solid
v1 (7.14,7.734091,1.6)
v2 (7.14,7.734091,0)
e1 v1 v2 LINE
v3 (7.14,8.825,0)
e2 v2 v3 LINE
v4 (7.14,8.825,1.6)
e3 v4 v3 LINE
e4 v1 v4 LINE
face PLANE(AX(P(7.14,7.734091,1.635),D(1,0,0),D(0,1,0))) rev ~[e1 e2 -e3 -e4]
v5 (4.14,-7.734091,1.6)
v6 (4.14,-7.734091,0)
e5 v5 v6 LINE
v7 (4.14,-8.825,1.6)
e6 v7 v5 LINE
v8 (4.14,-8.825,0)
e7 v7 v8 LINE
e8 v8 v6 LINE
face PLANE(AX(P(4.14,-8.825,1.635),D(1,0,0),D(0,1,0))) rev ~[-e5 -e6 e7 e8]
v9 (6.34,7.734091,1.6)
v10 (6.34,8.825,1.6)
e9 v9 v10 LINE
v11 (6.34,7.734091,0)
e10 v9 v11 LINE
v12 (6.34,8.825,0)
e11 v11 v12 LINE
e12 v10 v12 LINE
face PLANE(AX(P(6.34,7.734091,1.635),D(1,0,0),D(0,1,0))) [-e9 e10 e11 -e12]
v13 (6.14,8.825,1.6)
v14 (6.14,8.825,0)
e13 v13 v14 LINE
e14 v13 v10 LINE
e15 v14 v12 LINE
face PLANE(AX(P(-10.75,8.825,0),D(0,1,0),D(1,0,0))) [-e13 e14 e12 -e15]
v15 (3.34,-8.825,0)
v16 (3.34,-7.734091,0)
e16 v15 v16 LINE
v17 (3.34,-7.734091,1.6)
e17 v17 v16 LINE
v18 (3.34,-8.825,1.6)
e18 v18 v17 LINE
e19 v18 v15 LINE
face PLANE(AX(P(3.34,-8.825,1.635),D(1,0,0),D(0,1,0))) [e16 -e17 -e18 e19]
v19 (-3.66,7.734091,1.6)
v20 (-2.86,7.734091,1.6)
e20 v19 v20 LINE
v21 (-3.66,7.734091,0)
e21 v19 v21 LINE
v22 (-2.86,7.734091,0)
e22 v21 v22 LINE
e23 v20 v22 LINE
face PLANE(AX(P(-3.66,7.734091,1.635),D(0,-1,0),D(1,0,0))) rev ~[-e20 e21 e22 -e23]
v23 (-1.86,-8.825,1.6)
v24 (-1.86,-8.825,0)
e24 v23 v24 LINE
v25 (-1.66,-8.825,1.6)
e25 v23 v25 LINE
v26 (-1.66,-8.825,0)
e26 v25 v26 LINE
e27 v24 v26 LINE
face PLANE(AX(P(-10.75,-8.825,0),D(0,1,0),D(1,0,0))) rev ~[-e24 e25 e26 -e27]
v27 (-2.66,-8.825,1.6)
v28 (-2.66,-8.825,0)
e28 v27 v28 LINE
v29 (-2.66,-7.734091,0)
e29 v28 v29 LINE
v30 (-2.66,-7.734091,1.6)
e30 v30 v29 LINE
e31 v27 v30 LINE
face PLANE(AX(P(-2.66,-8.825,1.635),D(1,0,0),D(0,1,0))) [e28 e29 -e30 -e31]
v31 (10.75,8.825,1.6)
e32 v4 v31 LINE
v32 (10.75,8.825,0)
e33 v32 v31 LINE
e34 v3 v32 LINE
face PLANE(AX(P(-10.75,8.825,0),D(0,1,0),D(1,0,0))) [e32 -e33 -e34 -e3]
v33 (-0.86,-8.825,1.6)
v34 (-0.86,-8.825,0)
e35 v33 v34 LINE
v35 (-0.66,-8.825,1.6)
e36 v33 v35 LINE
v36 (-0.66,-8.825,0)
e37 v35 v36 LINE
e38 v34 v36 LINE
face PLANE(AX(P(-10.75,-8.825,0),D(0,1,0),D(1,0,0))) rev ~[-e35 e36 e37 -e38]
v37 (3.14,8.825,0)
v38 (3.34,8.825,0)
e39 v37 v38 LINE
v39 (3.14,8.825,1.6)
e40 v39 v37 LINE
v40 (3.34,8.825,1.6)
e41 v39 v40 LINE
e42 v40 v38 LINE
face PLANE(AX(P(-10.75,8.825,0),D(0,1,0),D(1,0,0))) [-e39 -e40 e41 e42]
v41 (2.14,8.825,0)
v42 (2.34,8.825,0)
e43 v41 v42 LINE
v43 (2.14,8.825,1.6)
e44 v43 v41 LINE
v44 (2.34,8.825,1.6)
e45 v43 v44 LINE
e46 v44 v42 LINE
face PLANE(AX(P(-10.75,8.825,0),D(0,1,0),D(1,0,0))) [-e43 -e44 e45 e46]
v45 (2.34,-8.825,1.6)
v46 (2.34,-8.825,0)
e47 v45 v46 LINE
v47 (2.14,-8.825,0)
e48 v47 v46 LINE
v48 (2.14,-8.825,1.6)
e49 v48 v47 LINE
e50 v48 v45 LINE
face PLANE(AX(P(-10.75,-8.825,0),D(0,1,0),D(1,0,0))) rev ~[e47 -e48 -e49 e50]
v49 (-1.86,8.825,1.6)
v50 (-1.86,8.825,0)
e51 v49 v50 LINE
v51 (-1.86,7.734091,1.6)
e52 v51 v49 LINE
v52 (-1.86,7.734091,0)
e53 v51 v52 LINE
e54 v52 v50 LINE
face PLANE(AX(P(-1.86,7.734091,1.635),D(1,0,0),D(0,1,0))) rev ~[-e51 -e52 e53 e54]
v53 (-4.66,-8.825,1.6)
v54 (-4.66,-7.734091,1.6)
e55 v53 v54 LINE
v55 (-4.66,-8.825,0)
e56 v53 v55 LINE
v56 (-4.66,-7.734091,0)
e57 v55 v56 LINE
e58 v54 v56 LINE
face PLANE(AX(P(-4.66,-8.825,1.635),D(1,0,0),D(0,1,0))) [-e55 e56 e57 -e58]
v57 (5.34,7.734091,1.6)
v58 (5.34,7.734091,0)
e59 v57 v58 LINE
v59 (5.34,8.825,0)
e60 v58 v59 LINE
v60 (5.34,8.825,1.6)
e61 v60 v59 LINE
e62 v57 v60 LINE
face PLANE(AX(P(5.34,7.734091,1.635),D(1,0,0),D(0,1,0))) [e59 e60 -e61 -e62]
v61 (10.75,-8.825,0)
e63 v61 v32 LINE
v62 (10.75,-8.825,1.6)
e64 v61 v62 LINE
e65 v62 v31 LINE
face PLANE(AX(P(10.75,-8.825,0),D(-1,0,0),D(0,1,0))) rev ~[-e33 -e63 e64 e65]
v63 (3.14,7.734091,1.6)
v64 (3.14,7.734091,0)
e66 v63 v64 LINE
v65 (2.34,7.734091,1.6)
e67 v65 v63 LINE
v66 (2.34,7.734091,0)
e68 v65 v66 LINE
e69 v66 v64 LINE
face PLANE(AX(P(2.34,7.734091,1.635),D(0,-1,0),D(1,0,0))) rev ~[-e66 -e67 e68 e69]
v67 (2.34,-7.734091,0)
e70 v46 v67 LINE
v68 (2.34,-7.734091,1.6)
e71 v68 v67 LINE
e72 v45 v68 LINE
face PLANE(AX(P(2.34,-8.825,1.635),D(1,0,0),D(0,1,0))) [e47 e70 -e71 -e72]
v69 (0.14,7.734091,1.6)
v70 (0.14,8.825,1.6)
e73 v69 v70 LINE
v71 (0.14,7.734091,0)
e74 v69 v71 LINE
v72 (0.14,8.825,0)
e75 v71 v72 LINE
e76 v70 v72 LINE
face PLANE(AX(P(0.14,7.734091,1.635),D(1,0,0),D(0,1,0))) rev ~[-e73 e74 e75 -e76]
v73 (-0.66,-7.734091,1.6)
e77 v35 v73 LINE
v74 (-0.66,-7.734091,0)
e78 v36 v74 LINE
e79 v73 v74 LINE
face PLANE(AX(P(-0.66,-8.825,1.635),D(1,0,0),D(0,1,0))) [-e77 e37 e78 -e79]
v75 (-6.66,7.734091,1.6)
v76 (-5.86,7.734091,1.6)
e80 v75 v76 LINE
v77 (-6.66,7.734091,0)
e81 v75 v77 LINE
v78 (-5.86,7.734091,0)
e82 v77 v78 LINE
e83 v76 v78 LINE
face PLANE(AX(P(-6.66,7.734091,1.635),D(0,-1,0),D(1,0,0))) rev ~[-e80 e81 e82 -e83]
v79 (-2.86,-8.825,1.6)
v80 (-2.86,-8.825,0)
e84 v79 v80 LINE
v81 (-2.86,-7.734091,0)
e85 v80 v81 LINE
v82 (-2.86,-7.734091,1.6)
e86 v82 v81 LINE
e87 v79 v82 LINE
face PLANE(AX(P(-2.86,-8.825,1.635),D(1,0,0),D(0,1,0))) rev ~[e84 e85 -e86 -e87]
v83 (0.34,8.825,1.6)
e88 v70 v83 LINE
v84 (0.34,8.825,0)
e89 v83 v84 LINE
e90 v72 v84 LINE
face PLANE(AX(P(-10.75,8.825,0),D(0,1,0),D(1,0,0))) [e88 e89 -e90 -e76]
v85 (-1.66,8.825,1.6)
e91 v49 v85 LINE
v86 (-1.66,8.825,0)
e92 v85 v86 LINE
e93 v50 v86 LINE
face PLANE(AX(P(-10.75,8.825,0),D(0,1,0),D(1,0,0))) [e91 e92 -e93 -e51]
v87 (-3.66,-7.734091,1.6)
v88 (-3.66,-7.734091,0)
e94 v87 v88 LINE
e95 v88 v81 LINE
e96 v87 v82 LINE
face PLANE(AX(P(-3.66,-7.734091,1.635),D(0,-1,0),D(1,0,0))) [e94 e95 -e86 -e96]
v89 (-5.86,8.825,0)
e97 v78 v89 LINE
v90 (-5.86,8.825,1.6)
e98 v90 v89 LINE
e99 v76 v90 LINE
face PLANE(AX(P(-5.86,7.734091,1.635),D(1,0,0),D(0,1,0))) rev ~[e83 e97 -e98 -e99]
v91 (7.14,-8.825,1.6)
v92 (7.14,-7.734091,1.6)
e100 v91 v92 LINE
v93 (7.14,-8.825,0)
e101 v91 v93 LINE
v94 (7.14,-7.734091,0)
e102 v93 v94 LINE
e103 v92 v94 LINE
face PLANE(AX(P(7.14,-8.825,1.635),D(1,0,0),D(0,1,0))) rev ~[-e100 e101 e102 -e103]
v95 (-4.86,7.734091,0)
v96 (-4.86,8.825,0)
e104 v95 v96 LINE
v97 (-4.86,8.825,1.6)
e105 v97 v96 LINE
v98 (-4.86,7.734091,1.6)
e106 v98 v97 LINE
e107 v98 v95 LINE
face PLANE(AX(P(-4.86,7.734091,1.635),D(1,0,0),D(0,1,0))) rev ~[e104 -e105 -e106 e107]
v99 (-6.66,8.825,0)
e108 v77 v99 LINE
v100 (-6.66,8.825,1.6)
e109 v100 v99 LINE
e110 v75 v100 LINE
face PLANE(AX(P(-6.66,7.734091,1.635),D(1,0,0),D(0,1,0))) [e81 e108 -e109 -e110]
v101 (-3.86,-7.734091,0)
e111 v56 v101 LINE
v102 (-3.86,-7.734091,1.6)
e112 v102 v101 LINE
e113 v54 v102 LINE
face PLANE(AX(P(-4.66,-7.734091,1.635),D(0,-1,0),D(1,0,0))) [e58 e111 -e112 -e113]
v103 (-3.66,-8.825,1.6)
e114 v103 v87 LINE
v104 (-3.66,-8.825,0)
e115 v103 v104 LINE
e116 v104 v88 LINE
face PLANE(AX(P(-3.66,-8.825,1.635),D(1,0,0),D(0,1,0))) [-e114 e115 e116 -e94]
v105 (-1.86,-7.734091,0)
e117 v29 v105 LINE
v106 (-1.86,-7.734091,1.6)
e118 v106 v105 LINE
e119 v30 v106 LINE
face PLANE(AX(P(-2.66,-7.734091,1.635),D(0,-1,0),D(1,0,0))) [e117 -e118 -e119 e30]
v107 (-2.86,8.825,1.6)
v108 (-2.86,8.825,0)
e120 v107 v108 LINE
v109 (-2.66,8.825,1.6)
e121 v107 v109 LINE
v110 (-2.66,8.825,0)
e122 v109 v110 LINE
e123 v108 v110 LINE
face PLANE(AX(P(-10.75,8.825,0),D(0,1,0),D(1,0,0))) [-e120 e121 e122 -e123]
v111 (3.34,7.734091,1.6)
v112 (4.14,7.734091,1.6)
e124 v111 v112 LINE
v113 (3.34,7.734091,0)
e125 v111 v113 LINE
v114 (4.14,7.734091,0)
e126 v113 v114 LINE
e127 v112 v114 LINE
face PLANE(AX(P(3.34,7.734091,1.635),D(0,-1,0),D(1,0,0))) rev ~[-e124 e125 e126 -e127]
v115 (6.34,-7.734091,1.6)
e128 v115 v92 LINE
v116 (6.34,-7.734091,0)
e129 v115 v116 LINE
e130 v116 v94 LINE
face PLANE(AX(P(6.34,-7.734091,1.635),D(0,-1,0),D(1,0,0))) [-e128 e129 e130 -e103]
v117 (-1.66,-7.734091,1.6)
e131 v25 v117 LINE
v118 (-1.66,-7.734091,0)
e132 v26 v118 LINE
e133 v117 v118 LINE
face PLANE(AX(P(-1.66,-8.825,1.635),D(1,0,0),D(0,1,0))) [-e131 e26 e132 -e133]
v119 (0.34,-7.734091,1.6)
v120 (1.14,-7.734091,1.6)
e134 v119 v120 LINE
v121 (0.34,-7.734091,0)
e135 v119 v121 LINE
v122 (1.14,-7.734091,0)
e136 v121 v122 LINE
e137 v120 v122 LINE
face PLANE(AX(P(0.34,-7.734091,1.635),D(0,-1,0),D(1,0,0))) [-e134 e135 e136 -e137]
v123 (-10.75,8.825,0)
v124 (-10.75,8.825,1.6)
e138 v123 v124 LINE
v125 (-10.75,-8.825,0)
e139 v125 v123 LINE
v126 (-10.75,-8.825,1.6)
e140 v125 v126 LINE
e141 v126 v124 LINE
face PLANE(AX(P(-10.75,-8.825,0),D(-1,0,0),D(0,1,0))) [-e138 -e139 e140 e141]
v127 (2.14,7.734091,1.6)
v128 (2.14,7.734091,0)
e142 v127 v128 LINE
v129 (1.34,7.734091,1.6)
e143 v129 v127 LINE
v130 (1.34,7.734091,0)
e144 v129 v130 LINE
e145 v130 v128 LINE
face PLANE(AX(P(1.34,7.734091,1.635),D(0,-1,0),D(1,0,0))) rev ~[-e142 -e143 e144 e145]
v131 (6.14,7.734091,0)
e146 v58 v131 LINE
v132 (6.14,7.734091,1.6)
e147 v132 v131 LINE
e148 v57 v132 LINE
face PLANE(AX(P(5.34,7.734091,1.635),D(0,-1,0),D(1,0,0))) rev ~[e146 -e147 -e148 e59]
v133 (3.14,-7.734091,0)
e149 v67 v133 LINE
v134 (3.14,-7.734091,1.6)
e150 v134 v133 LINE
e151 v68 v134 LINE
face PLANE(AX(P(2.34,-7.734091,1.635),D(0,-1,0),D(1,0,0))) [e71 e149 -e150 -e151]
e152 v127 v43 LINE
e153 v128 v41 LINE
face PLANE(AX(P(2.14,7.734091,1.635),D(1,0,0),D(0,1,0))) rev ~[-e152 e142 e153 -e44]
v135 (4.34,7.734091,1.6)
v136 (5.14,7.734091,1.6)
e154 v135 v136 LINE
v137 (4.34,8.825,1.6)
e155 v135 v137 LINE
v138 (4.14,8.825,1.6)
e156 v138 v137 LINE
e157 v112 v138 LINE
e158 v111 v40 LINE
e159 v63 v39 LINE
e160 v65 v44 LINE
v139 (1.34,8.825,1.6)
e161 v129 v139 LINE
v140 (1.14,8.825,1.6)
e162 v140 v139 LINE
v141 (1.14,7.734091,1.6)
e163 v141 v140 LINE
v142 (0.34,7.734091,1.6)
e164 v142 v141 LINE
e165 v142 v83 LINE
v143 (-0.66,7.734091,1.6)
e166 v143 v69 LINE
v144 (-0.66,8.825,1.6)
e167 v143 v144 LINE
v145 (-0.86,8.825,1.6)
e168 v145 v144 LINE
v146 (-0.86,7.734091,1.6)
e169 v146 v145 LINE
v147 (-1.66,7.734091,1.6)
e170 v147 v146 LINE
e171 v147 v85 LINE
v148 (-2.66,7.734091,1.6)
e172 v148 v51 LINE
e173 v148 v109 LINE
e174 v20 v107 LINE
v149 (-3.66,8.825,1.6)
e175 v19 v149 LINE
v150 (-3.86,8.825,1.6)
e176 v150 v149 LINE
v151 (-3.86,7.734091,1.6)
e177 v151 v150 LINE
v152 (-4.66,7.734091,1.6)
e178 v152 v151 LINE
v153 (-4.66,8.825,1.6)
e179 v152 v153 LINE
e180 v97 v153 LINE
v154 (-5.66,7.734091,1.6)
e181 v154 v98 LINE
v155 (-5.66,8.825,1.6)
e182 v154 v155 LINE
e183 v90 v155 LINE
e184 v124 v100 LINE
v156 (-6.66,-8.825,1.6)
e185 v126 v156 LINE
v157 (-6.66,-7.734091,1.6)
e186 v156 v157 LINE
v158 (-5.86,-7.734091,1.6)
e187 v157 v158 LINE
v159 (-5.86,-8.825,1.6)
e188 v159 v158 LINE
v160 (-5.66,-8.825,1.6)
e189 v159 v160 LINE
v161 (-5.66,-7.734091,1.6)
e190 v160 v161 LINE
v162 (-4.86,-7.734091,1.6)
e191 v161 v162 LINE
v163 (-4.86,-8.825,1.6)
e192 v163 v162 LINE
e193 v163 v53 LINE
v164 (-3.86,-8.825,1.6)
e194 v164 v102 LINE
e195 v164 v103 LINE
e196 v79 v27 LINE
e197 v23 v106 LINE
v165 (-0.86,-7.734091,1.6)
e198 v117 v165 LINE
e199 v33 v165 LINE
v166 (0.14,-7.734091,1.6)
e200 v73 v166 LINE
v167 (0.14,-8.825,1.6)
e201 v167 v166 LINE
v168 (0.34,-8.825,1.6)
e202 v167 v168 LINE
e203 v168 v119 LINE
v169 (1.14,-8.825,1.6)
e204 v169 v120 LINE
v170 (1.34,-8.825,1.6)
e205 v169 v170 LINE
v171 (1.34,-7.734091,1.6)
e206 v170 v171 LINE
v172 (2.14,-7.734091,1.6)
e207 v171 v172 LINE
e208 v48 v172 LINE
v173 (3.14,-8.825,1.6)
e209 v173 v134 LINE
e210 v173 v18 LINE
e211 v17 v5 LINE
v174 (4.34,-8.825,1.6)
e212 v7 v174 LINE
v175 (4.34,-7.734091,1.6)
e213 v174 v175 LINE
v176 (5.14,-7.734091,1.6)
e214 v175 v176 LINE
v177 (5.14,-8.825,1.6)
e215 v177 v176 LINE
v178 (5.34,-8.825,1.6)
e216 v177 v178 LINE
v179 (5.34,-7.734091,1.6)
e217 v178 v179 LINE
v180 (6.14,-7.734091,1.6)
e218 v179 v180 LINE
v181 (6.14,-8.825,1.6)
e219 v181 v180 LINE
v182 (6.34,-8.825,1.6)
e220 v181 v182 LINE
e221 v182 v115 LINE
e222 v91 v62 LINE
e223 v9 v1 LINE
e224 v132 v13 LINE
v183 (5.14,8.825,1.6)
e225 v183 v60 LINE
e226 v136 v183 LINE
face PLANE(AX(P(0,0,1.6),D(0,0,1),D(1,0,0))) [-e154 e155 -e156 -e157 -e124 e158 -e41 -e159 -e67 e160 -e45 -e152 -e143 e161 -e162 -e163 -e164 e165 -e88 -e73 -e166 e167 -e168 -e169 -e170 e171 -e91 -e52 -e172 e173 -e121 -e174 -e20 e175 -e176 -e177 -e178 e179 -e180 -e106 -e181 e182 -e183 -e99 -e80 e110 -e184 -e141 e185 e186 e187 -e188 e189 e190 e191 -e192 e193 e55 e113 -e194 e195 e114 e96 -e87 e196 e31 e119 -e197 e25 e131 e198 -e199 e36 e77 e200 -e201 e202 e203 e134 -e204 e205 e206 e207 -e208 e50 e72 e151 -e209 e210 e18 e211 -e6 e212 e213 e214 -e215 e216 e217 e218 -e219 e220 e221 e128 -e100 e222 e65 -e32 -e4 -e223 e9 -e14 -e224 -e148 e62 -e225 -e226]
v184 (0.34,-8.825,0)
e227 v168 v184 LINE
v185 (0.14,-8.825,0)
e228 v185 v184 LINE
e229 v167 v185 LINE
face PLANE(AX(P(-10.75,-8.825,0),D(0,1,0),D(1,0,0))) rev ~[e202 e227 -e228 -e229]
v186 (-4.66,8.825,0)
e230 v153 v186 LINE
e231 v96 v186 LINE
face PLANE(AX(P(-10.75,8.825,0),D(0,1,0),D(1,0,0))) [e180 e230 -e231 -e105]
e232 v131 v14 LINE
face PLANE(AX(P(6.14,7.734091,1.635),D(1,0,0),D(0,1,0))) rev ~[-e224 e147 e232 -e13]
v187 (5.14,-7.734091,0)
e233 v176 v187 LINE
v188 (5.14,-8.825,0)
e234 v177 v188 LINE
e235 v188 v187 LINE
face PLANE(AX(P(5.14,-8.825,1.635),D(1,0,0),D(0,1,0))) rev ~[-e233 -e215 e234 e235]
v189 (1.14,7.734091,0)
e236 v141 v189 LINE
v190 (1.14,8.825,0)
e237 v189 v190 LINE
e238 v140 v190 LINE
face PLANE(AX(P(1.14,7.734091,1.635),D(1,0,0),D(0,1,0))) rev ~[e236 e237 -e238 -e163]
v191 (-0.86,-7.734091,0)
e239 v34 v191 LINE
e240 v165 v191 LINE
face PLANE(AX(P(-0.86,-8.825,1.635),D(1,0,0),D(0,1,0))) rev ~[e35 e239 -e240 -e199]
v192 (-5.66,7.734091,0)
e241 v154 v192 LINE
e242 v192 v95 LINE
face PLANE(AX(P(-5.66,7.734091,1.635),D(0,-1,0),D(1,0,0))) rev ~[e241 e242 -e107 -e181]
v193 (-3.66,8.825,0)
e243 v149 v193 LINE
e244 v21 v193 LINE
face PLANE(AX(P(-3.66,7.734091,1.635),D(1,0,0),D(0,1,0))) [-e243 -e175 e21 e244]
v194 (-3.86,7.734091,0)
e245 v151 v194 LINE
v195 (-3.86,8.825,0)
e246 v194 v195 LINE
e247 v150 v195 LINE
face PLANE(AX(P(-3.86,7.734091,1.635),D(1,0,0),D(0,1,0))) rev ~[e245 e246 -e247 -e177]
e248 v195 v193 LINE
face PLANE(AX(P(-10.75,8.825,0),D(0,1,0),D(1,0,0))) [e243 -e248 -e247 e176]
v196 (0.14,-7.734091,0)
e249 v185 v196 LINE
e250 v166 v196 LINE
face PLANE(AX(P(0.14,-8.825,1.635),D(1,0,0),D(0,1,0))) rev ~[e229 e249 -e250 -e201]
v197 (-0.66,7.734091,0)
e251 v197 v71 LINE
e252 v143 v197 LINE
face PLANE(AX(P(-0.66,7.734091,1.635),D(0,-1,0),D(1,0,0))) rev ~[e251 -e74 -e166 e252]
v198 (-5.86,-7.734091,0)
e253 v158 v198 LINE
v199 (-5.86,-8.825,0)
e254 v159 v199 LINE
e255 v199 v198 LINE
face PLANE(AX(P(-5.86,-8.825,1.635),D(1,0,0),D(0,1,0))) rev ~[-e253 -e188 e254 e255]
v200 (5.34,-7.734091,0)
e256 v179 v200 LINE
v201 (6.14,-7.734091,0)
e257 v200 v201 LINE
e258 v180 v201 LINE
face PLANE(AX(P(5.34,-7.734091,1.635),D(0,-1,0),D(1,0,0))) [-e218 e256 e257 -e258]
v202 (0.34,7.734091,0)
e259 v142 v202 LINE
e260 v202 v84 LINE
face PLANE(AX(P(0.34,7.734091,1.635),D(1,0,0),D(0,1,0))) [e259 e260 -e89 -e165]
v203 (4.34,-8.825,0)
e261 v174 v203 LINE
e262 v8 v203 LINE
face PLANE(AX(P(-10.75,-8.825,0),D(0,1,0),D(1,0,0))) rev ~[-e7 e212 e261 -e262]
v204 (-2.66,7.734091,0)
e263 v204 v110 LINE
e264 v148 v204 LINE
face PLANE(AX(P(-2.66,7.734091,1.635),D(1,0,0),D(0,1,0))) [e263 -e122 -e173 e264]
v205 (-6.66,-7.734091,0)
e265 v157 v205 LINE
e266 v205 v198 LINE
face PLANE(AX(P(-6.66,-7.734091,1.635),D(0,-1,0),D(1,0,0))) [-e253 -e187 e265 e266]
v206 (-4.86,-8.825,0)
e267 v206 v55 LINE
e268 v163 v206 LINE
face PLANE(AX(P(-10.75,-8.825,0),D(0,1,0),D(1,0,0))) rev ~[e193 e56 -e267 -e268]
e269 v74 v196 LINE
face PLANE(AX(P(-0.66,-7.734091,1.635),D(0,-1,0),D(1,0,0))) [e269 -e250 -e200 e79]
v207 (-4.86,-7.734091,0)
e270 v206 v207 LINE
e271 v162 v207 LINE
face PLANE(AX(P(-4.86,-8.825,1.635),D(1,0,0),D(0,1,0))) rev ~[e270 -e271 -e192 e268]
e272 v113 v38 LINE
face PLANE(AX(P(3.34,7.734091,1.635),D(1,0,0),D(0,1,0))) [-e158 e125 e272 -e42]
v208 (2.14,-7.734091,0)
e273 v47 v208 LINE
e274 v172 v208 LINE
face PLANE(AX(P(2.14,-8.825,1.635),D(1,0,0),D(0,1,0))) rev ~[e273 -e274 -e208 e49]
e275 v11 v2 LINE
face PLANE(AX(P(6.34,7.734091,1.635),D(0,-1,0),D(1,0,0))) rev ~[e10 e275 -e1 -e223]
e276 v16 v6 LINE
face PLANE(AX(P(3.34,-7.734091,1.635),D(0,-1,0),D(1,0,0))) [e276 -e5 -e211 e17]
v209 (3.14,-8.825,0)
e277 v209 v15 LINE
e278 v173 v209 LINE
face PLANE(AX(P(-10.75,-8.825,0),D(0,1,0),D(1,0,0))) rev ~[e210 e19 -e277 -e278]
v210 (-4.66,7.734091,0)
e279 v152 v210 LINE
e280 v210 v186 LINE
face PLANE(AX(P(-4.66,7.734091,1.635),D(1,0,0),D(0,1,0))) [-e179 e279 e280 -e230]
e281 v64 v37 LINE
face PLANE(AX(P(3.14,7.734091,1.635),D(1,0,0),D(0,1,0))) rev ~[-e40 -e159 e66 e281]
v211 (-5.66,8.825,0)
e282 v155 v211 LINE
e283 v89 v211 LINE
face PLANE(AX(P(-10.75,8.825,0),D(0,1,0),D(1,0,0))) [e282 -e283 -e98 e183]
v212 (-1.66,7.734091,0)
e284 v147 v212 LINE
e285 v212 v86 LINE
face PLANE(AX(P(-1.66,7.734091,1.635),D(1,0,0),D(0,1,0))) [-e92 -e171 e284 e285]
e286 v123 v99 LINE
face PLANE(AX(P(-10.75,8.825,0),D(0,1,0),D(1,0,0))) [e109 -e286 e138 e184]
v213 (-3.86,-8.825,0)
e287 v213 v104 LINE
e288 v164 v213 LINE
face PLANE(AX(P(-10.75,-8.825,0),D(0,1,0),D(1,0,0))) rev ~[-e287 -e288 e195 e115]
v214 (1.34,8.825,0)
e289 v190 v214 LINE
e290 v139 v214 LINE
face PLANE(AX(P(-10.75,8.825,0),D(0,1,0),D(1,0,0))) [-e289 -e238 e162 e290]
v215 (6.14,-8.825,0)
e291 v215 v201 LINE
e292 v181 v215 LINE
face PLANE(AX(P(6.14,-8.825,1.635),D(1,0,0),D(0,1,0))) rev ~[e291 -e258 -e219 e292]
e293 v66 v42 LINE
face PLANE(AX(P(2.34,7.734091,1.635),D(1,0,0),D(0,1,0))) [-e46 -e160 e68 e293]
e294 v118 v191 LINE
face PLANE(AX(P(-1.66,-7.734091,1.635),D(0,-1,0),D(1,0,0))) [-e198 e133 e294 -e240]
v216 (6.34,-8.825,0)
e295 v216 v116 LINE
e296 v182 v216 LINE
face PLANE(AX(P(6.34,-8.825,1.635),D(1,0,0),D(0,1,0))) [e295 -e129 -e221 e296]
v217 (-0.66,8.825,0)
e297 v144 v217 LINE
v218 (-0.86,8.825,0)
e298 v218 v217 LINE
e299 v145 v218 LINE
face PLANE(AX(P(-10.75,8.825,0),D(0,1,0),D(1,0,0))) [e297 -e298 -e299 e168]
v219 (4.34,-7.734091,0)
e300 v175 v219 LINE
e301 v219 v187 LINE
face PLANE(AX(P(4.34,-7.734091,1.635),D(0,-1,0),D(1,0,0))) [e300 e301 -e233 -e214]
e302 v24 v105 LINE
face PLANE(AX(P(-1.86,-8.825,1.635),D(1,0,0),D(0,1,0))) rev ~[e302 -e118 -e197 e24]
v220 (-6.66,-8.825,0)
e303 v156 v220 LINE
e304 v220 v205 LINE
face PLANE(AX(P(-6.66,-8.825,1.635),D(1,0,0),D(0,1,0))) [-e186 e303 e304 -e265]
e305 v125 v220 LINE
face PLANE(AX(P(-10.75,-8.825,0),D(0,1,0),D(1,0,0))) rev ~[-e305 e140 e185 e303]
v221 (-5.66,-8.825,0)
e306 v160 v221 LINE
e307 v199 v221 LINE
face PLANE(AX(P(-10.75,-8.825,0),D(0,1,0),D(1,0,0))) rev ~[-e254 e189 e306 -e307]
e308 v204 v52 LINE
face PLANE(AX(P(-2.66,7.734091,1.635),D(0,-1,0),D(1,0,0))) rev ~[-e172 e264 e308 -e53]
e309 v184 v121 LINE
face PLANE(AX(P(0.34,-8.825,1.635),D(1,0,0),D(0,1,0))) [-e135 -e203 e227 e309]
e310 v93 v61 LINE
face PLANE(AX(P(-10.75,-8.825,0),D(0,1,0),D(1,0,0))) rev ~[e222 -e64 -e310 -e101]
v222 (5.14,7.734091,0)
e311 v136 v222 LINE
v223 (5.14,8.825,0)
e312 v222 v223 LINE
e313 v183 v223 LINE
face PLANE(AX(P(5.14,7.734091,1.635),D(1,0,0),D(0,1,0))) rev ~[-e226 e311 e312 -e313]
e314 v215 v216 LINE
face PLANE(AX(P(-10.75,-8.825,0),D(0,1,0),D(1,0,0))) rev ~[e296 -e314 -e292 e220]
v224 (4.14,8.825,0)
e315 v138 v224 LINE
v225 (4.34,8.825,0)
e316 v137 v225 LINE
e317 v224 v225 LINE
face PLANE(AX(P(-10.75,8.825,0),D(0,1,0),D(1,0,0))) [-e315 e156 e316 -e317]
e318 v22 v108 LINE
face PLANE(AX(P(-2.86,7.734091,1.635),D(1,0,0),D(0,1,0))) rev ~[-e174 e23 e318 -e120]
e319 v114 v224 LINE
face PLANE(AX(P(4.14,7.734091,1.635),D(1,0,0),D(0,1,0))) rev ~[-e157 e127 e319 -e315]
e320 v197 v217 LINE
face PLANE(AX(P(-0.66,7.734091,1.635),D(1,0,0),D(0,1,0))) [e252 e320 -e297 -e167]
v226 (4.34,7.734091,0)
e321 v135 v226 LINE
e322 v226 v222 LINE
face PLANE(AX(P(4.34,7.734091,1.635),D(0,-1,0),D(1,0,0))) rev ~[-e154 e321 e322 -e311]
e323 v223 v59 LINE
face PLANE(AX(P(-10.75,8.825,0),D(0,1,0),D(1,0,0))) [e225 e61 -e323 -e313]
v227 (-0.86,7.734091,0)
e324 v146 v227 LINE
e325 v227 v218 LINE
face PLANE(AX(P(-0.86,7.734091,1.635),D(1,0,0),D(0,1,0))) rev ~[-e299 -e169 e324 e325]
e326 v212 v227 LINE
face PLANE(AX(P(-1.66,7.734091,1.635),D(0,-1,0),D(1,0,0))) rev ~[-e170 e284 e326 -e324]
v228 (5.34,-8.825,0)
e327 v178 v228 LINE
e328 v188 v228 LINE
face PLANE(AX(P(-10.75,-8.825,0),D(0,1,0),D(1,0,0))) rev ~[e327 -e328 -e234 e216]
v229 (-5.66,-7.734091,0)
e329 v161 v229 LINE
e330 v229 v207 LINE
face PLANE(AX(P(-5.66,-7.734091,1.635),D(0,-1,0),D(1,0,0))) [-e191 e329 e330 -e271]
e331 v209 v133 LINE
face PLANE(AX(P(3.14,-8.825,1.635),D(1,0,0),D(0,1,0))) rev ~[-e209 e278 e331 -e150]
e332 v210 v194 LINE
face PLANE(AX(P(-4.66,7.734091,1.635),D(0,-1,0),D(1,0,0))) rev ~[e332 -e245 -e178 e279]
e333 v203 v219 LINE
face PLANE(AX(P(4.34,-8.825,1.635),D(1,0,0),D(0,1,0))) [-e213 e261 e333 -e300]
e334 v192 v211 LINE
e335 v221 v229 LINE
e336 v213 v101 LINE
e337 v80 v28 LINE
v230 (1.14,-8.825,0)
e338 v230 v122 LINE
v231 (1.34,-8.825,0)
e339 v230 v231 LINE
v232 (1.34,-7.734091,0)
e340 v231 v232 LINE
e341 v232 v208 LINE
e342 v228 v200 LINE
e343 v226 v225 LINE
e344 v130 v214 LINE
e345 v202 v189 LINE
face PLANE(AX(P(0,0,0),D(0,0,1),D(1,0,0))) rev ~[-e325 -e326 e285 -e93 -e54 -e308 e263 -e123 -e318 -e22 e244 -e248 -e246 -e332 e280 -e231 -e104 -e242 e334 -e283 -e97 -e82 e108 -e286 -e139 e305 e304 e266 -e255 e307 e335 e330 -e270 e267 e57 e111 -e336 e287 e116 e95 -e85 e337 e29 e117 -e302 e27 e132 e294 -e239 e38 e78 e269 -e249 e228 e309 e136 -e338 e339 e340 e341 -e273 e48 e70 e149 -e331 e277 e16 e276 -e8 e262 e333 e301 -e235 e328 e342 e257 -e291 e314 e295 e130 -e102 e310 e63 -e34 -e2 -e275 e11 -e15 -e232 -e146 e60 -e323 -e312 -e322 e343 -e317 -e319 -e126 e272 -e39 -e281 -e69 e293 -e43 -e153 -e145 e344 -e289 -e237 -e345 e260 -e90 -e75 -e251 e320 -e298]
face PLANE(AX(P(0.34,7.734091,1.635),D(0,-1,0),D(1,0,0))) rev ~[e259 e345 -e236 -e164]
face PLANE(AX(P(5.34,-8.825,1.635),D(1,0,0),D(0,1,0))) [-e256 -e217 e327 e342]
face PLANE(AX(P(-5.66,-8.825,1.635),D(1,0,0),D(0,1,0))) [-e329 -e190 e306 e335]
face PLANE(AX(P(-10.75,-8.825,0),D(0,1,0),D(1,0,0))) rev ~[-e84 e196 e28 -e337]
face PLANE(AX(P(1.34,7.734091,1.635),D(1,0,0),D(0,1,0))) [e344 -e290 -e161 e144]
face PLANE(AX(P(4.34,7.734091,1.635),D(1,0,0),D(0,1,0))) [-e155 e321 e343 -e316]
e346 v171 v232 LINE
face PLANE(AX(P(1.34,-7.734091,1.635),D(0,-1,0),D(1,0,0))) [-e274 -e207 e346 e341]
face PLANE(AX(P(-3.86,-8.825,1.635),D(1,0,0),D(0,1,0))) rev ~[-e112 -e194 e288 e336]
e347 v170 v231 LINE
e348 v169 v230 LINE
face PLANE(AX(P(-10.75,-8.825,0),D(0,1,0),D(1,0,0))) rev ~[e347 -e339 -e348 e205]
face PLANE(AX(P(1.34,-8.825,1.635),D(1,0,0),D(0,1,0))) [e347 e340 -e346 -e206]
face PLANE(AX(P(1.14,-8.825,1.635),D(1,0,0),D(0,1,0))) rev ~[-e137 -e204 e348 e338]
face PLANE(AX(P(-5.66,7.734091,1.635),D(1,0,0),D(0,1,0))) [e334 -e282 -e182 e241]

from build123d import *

# Parameters (mm, degrees)
F0_W     = 21.5
F0_H     = 17.65
F1_DEPTH = 1.6
F3_W     = 0.8
F3_H     = 1.0909089439
F4_DEPTH = 25


with BuildPart() as f1:
    # F0 (on Top) → F1 (new body)
    with BuildSketch(Plane.XY):
        Rectangle(F0_W, F0_H)
    extrude(amount=F1_DEPTH)

    # F3 (on offset) → F4 (cut)
    with BuildSketch(Plane.XY.offset(1.635)):
        with Locations((-6.26, 8.279545528)):
            Rectangle(F3_W, F3_H)
        with Locations((-5.26, 8.279545528)):
            Rectangle(F3_W, F3_H)
        with Locations((-4.26, 8.279545528)):
            Rectangle(F3_W, F3_H)
        with Locations((-3.26, 8.279545528)):
            Rectangle(F3_W, F3_H)
        with Locations((-2.26, 8.279545528)):
            Rectangle(F3_W, F3_H)
        with Locations((-1.26, 8.279545528)):
            Rectangle(F3_W, F3_H)
        with Locations((-0.26, 8.279545528)):
            Rectangle(F3_W, F3_H)
        with Locations((0.74, 8.279545528)):
            Rectangle(F3_W, F3_H)
        with Locations((1.74, 8.279545528)):
            Rectangle(F3_W, F3_H)
        with Locations((2.74, 8.279545528)):
            Rectangle(F3_W, F3_H)
        with Locations((3.74, 8.279545528)):
            Rectangle(F3_W, F3_H)
        with Locations((4.74, 8.279545528)):
            Rectangle(F3_W, F3_H)
        with Locations((5.74, 8.279545528)):
            Rectangle(F3_W, F3_H)
        with Locations((6.74, 8.279545528)):
            Rectangle(F3_W, F3_H)
        with Locations((-6.26, -8.279545528)):
            Rectangle(F3_W, F3_H)
        with Locations((3.74, -8.279545528)):
            Rectangle(F3_W, F3_H)
        with Locations((6.74, -8.279545528)):
            Rectangle(F3_W, F3_H)
        with Locations((-1.26, -8.279545528)):
            Rectangle(F3_W, F3_H)
        with Locations((1.74, -8.279545528)):
            Rectangle(F3_W, F3_H)
        with Locations((4.74, -8.279545528)):
            Rectangle(F3_W, F3_H)
        with Locations((-4.26, -8.279545528)):
            Rectangle(F3_W, F3_H)
        with Locations((-5.26, -8.279545528)):
            Rectangle(F3_W, F3_H)
        with Locations((5.74, -8.279545528)):
            Rectangle(F3_W, F3_H)
        with Locations((0.74, -8.279545528)):
            Rectangle(F3_W, F3_H)
        with Locations((-3.26, -8.279545528)):
            Rectangle(F3_W, F3_H)
        with Locations((-0.26, -8.279545528)):
            Rectangle(F3_W, F3_H)
        with Locations((-2.26, -8.279545528)):
            Rectangle(F3_W, F3_H)
        with Locations((2.74, -8.279545528)):
            Rectangle(F3_W, F3_H)
    extrude(amount=-F4_DEPTH, mode=Mode.SUBTRACT)


solid = f1.part
